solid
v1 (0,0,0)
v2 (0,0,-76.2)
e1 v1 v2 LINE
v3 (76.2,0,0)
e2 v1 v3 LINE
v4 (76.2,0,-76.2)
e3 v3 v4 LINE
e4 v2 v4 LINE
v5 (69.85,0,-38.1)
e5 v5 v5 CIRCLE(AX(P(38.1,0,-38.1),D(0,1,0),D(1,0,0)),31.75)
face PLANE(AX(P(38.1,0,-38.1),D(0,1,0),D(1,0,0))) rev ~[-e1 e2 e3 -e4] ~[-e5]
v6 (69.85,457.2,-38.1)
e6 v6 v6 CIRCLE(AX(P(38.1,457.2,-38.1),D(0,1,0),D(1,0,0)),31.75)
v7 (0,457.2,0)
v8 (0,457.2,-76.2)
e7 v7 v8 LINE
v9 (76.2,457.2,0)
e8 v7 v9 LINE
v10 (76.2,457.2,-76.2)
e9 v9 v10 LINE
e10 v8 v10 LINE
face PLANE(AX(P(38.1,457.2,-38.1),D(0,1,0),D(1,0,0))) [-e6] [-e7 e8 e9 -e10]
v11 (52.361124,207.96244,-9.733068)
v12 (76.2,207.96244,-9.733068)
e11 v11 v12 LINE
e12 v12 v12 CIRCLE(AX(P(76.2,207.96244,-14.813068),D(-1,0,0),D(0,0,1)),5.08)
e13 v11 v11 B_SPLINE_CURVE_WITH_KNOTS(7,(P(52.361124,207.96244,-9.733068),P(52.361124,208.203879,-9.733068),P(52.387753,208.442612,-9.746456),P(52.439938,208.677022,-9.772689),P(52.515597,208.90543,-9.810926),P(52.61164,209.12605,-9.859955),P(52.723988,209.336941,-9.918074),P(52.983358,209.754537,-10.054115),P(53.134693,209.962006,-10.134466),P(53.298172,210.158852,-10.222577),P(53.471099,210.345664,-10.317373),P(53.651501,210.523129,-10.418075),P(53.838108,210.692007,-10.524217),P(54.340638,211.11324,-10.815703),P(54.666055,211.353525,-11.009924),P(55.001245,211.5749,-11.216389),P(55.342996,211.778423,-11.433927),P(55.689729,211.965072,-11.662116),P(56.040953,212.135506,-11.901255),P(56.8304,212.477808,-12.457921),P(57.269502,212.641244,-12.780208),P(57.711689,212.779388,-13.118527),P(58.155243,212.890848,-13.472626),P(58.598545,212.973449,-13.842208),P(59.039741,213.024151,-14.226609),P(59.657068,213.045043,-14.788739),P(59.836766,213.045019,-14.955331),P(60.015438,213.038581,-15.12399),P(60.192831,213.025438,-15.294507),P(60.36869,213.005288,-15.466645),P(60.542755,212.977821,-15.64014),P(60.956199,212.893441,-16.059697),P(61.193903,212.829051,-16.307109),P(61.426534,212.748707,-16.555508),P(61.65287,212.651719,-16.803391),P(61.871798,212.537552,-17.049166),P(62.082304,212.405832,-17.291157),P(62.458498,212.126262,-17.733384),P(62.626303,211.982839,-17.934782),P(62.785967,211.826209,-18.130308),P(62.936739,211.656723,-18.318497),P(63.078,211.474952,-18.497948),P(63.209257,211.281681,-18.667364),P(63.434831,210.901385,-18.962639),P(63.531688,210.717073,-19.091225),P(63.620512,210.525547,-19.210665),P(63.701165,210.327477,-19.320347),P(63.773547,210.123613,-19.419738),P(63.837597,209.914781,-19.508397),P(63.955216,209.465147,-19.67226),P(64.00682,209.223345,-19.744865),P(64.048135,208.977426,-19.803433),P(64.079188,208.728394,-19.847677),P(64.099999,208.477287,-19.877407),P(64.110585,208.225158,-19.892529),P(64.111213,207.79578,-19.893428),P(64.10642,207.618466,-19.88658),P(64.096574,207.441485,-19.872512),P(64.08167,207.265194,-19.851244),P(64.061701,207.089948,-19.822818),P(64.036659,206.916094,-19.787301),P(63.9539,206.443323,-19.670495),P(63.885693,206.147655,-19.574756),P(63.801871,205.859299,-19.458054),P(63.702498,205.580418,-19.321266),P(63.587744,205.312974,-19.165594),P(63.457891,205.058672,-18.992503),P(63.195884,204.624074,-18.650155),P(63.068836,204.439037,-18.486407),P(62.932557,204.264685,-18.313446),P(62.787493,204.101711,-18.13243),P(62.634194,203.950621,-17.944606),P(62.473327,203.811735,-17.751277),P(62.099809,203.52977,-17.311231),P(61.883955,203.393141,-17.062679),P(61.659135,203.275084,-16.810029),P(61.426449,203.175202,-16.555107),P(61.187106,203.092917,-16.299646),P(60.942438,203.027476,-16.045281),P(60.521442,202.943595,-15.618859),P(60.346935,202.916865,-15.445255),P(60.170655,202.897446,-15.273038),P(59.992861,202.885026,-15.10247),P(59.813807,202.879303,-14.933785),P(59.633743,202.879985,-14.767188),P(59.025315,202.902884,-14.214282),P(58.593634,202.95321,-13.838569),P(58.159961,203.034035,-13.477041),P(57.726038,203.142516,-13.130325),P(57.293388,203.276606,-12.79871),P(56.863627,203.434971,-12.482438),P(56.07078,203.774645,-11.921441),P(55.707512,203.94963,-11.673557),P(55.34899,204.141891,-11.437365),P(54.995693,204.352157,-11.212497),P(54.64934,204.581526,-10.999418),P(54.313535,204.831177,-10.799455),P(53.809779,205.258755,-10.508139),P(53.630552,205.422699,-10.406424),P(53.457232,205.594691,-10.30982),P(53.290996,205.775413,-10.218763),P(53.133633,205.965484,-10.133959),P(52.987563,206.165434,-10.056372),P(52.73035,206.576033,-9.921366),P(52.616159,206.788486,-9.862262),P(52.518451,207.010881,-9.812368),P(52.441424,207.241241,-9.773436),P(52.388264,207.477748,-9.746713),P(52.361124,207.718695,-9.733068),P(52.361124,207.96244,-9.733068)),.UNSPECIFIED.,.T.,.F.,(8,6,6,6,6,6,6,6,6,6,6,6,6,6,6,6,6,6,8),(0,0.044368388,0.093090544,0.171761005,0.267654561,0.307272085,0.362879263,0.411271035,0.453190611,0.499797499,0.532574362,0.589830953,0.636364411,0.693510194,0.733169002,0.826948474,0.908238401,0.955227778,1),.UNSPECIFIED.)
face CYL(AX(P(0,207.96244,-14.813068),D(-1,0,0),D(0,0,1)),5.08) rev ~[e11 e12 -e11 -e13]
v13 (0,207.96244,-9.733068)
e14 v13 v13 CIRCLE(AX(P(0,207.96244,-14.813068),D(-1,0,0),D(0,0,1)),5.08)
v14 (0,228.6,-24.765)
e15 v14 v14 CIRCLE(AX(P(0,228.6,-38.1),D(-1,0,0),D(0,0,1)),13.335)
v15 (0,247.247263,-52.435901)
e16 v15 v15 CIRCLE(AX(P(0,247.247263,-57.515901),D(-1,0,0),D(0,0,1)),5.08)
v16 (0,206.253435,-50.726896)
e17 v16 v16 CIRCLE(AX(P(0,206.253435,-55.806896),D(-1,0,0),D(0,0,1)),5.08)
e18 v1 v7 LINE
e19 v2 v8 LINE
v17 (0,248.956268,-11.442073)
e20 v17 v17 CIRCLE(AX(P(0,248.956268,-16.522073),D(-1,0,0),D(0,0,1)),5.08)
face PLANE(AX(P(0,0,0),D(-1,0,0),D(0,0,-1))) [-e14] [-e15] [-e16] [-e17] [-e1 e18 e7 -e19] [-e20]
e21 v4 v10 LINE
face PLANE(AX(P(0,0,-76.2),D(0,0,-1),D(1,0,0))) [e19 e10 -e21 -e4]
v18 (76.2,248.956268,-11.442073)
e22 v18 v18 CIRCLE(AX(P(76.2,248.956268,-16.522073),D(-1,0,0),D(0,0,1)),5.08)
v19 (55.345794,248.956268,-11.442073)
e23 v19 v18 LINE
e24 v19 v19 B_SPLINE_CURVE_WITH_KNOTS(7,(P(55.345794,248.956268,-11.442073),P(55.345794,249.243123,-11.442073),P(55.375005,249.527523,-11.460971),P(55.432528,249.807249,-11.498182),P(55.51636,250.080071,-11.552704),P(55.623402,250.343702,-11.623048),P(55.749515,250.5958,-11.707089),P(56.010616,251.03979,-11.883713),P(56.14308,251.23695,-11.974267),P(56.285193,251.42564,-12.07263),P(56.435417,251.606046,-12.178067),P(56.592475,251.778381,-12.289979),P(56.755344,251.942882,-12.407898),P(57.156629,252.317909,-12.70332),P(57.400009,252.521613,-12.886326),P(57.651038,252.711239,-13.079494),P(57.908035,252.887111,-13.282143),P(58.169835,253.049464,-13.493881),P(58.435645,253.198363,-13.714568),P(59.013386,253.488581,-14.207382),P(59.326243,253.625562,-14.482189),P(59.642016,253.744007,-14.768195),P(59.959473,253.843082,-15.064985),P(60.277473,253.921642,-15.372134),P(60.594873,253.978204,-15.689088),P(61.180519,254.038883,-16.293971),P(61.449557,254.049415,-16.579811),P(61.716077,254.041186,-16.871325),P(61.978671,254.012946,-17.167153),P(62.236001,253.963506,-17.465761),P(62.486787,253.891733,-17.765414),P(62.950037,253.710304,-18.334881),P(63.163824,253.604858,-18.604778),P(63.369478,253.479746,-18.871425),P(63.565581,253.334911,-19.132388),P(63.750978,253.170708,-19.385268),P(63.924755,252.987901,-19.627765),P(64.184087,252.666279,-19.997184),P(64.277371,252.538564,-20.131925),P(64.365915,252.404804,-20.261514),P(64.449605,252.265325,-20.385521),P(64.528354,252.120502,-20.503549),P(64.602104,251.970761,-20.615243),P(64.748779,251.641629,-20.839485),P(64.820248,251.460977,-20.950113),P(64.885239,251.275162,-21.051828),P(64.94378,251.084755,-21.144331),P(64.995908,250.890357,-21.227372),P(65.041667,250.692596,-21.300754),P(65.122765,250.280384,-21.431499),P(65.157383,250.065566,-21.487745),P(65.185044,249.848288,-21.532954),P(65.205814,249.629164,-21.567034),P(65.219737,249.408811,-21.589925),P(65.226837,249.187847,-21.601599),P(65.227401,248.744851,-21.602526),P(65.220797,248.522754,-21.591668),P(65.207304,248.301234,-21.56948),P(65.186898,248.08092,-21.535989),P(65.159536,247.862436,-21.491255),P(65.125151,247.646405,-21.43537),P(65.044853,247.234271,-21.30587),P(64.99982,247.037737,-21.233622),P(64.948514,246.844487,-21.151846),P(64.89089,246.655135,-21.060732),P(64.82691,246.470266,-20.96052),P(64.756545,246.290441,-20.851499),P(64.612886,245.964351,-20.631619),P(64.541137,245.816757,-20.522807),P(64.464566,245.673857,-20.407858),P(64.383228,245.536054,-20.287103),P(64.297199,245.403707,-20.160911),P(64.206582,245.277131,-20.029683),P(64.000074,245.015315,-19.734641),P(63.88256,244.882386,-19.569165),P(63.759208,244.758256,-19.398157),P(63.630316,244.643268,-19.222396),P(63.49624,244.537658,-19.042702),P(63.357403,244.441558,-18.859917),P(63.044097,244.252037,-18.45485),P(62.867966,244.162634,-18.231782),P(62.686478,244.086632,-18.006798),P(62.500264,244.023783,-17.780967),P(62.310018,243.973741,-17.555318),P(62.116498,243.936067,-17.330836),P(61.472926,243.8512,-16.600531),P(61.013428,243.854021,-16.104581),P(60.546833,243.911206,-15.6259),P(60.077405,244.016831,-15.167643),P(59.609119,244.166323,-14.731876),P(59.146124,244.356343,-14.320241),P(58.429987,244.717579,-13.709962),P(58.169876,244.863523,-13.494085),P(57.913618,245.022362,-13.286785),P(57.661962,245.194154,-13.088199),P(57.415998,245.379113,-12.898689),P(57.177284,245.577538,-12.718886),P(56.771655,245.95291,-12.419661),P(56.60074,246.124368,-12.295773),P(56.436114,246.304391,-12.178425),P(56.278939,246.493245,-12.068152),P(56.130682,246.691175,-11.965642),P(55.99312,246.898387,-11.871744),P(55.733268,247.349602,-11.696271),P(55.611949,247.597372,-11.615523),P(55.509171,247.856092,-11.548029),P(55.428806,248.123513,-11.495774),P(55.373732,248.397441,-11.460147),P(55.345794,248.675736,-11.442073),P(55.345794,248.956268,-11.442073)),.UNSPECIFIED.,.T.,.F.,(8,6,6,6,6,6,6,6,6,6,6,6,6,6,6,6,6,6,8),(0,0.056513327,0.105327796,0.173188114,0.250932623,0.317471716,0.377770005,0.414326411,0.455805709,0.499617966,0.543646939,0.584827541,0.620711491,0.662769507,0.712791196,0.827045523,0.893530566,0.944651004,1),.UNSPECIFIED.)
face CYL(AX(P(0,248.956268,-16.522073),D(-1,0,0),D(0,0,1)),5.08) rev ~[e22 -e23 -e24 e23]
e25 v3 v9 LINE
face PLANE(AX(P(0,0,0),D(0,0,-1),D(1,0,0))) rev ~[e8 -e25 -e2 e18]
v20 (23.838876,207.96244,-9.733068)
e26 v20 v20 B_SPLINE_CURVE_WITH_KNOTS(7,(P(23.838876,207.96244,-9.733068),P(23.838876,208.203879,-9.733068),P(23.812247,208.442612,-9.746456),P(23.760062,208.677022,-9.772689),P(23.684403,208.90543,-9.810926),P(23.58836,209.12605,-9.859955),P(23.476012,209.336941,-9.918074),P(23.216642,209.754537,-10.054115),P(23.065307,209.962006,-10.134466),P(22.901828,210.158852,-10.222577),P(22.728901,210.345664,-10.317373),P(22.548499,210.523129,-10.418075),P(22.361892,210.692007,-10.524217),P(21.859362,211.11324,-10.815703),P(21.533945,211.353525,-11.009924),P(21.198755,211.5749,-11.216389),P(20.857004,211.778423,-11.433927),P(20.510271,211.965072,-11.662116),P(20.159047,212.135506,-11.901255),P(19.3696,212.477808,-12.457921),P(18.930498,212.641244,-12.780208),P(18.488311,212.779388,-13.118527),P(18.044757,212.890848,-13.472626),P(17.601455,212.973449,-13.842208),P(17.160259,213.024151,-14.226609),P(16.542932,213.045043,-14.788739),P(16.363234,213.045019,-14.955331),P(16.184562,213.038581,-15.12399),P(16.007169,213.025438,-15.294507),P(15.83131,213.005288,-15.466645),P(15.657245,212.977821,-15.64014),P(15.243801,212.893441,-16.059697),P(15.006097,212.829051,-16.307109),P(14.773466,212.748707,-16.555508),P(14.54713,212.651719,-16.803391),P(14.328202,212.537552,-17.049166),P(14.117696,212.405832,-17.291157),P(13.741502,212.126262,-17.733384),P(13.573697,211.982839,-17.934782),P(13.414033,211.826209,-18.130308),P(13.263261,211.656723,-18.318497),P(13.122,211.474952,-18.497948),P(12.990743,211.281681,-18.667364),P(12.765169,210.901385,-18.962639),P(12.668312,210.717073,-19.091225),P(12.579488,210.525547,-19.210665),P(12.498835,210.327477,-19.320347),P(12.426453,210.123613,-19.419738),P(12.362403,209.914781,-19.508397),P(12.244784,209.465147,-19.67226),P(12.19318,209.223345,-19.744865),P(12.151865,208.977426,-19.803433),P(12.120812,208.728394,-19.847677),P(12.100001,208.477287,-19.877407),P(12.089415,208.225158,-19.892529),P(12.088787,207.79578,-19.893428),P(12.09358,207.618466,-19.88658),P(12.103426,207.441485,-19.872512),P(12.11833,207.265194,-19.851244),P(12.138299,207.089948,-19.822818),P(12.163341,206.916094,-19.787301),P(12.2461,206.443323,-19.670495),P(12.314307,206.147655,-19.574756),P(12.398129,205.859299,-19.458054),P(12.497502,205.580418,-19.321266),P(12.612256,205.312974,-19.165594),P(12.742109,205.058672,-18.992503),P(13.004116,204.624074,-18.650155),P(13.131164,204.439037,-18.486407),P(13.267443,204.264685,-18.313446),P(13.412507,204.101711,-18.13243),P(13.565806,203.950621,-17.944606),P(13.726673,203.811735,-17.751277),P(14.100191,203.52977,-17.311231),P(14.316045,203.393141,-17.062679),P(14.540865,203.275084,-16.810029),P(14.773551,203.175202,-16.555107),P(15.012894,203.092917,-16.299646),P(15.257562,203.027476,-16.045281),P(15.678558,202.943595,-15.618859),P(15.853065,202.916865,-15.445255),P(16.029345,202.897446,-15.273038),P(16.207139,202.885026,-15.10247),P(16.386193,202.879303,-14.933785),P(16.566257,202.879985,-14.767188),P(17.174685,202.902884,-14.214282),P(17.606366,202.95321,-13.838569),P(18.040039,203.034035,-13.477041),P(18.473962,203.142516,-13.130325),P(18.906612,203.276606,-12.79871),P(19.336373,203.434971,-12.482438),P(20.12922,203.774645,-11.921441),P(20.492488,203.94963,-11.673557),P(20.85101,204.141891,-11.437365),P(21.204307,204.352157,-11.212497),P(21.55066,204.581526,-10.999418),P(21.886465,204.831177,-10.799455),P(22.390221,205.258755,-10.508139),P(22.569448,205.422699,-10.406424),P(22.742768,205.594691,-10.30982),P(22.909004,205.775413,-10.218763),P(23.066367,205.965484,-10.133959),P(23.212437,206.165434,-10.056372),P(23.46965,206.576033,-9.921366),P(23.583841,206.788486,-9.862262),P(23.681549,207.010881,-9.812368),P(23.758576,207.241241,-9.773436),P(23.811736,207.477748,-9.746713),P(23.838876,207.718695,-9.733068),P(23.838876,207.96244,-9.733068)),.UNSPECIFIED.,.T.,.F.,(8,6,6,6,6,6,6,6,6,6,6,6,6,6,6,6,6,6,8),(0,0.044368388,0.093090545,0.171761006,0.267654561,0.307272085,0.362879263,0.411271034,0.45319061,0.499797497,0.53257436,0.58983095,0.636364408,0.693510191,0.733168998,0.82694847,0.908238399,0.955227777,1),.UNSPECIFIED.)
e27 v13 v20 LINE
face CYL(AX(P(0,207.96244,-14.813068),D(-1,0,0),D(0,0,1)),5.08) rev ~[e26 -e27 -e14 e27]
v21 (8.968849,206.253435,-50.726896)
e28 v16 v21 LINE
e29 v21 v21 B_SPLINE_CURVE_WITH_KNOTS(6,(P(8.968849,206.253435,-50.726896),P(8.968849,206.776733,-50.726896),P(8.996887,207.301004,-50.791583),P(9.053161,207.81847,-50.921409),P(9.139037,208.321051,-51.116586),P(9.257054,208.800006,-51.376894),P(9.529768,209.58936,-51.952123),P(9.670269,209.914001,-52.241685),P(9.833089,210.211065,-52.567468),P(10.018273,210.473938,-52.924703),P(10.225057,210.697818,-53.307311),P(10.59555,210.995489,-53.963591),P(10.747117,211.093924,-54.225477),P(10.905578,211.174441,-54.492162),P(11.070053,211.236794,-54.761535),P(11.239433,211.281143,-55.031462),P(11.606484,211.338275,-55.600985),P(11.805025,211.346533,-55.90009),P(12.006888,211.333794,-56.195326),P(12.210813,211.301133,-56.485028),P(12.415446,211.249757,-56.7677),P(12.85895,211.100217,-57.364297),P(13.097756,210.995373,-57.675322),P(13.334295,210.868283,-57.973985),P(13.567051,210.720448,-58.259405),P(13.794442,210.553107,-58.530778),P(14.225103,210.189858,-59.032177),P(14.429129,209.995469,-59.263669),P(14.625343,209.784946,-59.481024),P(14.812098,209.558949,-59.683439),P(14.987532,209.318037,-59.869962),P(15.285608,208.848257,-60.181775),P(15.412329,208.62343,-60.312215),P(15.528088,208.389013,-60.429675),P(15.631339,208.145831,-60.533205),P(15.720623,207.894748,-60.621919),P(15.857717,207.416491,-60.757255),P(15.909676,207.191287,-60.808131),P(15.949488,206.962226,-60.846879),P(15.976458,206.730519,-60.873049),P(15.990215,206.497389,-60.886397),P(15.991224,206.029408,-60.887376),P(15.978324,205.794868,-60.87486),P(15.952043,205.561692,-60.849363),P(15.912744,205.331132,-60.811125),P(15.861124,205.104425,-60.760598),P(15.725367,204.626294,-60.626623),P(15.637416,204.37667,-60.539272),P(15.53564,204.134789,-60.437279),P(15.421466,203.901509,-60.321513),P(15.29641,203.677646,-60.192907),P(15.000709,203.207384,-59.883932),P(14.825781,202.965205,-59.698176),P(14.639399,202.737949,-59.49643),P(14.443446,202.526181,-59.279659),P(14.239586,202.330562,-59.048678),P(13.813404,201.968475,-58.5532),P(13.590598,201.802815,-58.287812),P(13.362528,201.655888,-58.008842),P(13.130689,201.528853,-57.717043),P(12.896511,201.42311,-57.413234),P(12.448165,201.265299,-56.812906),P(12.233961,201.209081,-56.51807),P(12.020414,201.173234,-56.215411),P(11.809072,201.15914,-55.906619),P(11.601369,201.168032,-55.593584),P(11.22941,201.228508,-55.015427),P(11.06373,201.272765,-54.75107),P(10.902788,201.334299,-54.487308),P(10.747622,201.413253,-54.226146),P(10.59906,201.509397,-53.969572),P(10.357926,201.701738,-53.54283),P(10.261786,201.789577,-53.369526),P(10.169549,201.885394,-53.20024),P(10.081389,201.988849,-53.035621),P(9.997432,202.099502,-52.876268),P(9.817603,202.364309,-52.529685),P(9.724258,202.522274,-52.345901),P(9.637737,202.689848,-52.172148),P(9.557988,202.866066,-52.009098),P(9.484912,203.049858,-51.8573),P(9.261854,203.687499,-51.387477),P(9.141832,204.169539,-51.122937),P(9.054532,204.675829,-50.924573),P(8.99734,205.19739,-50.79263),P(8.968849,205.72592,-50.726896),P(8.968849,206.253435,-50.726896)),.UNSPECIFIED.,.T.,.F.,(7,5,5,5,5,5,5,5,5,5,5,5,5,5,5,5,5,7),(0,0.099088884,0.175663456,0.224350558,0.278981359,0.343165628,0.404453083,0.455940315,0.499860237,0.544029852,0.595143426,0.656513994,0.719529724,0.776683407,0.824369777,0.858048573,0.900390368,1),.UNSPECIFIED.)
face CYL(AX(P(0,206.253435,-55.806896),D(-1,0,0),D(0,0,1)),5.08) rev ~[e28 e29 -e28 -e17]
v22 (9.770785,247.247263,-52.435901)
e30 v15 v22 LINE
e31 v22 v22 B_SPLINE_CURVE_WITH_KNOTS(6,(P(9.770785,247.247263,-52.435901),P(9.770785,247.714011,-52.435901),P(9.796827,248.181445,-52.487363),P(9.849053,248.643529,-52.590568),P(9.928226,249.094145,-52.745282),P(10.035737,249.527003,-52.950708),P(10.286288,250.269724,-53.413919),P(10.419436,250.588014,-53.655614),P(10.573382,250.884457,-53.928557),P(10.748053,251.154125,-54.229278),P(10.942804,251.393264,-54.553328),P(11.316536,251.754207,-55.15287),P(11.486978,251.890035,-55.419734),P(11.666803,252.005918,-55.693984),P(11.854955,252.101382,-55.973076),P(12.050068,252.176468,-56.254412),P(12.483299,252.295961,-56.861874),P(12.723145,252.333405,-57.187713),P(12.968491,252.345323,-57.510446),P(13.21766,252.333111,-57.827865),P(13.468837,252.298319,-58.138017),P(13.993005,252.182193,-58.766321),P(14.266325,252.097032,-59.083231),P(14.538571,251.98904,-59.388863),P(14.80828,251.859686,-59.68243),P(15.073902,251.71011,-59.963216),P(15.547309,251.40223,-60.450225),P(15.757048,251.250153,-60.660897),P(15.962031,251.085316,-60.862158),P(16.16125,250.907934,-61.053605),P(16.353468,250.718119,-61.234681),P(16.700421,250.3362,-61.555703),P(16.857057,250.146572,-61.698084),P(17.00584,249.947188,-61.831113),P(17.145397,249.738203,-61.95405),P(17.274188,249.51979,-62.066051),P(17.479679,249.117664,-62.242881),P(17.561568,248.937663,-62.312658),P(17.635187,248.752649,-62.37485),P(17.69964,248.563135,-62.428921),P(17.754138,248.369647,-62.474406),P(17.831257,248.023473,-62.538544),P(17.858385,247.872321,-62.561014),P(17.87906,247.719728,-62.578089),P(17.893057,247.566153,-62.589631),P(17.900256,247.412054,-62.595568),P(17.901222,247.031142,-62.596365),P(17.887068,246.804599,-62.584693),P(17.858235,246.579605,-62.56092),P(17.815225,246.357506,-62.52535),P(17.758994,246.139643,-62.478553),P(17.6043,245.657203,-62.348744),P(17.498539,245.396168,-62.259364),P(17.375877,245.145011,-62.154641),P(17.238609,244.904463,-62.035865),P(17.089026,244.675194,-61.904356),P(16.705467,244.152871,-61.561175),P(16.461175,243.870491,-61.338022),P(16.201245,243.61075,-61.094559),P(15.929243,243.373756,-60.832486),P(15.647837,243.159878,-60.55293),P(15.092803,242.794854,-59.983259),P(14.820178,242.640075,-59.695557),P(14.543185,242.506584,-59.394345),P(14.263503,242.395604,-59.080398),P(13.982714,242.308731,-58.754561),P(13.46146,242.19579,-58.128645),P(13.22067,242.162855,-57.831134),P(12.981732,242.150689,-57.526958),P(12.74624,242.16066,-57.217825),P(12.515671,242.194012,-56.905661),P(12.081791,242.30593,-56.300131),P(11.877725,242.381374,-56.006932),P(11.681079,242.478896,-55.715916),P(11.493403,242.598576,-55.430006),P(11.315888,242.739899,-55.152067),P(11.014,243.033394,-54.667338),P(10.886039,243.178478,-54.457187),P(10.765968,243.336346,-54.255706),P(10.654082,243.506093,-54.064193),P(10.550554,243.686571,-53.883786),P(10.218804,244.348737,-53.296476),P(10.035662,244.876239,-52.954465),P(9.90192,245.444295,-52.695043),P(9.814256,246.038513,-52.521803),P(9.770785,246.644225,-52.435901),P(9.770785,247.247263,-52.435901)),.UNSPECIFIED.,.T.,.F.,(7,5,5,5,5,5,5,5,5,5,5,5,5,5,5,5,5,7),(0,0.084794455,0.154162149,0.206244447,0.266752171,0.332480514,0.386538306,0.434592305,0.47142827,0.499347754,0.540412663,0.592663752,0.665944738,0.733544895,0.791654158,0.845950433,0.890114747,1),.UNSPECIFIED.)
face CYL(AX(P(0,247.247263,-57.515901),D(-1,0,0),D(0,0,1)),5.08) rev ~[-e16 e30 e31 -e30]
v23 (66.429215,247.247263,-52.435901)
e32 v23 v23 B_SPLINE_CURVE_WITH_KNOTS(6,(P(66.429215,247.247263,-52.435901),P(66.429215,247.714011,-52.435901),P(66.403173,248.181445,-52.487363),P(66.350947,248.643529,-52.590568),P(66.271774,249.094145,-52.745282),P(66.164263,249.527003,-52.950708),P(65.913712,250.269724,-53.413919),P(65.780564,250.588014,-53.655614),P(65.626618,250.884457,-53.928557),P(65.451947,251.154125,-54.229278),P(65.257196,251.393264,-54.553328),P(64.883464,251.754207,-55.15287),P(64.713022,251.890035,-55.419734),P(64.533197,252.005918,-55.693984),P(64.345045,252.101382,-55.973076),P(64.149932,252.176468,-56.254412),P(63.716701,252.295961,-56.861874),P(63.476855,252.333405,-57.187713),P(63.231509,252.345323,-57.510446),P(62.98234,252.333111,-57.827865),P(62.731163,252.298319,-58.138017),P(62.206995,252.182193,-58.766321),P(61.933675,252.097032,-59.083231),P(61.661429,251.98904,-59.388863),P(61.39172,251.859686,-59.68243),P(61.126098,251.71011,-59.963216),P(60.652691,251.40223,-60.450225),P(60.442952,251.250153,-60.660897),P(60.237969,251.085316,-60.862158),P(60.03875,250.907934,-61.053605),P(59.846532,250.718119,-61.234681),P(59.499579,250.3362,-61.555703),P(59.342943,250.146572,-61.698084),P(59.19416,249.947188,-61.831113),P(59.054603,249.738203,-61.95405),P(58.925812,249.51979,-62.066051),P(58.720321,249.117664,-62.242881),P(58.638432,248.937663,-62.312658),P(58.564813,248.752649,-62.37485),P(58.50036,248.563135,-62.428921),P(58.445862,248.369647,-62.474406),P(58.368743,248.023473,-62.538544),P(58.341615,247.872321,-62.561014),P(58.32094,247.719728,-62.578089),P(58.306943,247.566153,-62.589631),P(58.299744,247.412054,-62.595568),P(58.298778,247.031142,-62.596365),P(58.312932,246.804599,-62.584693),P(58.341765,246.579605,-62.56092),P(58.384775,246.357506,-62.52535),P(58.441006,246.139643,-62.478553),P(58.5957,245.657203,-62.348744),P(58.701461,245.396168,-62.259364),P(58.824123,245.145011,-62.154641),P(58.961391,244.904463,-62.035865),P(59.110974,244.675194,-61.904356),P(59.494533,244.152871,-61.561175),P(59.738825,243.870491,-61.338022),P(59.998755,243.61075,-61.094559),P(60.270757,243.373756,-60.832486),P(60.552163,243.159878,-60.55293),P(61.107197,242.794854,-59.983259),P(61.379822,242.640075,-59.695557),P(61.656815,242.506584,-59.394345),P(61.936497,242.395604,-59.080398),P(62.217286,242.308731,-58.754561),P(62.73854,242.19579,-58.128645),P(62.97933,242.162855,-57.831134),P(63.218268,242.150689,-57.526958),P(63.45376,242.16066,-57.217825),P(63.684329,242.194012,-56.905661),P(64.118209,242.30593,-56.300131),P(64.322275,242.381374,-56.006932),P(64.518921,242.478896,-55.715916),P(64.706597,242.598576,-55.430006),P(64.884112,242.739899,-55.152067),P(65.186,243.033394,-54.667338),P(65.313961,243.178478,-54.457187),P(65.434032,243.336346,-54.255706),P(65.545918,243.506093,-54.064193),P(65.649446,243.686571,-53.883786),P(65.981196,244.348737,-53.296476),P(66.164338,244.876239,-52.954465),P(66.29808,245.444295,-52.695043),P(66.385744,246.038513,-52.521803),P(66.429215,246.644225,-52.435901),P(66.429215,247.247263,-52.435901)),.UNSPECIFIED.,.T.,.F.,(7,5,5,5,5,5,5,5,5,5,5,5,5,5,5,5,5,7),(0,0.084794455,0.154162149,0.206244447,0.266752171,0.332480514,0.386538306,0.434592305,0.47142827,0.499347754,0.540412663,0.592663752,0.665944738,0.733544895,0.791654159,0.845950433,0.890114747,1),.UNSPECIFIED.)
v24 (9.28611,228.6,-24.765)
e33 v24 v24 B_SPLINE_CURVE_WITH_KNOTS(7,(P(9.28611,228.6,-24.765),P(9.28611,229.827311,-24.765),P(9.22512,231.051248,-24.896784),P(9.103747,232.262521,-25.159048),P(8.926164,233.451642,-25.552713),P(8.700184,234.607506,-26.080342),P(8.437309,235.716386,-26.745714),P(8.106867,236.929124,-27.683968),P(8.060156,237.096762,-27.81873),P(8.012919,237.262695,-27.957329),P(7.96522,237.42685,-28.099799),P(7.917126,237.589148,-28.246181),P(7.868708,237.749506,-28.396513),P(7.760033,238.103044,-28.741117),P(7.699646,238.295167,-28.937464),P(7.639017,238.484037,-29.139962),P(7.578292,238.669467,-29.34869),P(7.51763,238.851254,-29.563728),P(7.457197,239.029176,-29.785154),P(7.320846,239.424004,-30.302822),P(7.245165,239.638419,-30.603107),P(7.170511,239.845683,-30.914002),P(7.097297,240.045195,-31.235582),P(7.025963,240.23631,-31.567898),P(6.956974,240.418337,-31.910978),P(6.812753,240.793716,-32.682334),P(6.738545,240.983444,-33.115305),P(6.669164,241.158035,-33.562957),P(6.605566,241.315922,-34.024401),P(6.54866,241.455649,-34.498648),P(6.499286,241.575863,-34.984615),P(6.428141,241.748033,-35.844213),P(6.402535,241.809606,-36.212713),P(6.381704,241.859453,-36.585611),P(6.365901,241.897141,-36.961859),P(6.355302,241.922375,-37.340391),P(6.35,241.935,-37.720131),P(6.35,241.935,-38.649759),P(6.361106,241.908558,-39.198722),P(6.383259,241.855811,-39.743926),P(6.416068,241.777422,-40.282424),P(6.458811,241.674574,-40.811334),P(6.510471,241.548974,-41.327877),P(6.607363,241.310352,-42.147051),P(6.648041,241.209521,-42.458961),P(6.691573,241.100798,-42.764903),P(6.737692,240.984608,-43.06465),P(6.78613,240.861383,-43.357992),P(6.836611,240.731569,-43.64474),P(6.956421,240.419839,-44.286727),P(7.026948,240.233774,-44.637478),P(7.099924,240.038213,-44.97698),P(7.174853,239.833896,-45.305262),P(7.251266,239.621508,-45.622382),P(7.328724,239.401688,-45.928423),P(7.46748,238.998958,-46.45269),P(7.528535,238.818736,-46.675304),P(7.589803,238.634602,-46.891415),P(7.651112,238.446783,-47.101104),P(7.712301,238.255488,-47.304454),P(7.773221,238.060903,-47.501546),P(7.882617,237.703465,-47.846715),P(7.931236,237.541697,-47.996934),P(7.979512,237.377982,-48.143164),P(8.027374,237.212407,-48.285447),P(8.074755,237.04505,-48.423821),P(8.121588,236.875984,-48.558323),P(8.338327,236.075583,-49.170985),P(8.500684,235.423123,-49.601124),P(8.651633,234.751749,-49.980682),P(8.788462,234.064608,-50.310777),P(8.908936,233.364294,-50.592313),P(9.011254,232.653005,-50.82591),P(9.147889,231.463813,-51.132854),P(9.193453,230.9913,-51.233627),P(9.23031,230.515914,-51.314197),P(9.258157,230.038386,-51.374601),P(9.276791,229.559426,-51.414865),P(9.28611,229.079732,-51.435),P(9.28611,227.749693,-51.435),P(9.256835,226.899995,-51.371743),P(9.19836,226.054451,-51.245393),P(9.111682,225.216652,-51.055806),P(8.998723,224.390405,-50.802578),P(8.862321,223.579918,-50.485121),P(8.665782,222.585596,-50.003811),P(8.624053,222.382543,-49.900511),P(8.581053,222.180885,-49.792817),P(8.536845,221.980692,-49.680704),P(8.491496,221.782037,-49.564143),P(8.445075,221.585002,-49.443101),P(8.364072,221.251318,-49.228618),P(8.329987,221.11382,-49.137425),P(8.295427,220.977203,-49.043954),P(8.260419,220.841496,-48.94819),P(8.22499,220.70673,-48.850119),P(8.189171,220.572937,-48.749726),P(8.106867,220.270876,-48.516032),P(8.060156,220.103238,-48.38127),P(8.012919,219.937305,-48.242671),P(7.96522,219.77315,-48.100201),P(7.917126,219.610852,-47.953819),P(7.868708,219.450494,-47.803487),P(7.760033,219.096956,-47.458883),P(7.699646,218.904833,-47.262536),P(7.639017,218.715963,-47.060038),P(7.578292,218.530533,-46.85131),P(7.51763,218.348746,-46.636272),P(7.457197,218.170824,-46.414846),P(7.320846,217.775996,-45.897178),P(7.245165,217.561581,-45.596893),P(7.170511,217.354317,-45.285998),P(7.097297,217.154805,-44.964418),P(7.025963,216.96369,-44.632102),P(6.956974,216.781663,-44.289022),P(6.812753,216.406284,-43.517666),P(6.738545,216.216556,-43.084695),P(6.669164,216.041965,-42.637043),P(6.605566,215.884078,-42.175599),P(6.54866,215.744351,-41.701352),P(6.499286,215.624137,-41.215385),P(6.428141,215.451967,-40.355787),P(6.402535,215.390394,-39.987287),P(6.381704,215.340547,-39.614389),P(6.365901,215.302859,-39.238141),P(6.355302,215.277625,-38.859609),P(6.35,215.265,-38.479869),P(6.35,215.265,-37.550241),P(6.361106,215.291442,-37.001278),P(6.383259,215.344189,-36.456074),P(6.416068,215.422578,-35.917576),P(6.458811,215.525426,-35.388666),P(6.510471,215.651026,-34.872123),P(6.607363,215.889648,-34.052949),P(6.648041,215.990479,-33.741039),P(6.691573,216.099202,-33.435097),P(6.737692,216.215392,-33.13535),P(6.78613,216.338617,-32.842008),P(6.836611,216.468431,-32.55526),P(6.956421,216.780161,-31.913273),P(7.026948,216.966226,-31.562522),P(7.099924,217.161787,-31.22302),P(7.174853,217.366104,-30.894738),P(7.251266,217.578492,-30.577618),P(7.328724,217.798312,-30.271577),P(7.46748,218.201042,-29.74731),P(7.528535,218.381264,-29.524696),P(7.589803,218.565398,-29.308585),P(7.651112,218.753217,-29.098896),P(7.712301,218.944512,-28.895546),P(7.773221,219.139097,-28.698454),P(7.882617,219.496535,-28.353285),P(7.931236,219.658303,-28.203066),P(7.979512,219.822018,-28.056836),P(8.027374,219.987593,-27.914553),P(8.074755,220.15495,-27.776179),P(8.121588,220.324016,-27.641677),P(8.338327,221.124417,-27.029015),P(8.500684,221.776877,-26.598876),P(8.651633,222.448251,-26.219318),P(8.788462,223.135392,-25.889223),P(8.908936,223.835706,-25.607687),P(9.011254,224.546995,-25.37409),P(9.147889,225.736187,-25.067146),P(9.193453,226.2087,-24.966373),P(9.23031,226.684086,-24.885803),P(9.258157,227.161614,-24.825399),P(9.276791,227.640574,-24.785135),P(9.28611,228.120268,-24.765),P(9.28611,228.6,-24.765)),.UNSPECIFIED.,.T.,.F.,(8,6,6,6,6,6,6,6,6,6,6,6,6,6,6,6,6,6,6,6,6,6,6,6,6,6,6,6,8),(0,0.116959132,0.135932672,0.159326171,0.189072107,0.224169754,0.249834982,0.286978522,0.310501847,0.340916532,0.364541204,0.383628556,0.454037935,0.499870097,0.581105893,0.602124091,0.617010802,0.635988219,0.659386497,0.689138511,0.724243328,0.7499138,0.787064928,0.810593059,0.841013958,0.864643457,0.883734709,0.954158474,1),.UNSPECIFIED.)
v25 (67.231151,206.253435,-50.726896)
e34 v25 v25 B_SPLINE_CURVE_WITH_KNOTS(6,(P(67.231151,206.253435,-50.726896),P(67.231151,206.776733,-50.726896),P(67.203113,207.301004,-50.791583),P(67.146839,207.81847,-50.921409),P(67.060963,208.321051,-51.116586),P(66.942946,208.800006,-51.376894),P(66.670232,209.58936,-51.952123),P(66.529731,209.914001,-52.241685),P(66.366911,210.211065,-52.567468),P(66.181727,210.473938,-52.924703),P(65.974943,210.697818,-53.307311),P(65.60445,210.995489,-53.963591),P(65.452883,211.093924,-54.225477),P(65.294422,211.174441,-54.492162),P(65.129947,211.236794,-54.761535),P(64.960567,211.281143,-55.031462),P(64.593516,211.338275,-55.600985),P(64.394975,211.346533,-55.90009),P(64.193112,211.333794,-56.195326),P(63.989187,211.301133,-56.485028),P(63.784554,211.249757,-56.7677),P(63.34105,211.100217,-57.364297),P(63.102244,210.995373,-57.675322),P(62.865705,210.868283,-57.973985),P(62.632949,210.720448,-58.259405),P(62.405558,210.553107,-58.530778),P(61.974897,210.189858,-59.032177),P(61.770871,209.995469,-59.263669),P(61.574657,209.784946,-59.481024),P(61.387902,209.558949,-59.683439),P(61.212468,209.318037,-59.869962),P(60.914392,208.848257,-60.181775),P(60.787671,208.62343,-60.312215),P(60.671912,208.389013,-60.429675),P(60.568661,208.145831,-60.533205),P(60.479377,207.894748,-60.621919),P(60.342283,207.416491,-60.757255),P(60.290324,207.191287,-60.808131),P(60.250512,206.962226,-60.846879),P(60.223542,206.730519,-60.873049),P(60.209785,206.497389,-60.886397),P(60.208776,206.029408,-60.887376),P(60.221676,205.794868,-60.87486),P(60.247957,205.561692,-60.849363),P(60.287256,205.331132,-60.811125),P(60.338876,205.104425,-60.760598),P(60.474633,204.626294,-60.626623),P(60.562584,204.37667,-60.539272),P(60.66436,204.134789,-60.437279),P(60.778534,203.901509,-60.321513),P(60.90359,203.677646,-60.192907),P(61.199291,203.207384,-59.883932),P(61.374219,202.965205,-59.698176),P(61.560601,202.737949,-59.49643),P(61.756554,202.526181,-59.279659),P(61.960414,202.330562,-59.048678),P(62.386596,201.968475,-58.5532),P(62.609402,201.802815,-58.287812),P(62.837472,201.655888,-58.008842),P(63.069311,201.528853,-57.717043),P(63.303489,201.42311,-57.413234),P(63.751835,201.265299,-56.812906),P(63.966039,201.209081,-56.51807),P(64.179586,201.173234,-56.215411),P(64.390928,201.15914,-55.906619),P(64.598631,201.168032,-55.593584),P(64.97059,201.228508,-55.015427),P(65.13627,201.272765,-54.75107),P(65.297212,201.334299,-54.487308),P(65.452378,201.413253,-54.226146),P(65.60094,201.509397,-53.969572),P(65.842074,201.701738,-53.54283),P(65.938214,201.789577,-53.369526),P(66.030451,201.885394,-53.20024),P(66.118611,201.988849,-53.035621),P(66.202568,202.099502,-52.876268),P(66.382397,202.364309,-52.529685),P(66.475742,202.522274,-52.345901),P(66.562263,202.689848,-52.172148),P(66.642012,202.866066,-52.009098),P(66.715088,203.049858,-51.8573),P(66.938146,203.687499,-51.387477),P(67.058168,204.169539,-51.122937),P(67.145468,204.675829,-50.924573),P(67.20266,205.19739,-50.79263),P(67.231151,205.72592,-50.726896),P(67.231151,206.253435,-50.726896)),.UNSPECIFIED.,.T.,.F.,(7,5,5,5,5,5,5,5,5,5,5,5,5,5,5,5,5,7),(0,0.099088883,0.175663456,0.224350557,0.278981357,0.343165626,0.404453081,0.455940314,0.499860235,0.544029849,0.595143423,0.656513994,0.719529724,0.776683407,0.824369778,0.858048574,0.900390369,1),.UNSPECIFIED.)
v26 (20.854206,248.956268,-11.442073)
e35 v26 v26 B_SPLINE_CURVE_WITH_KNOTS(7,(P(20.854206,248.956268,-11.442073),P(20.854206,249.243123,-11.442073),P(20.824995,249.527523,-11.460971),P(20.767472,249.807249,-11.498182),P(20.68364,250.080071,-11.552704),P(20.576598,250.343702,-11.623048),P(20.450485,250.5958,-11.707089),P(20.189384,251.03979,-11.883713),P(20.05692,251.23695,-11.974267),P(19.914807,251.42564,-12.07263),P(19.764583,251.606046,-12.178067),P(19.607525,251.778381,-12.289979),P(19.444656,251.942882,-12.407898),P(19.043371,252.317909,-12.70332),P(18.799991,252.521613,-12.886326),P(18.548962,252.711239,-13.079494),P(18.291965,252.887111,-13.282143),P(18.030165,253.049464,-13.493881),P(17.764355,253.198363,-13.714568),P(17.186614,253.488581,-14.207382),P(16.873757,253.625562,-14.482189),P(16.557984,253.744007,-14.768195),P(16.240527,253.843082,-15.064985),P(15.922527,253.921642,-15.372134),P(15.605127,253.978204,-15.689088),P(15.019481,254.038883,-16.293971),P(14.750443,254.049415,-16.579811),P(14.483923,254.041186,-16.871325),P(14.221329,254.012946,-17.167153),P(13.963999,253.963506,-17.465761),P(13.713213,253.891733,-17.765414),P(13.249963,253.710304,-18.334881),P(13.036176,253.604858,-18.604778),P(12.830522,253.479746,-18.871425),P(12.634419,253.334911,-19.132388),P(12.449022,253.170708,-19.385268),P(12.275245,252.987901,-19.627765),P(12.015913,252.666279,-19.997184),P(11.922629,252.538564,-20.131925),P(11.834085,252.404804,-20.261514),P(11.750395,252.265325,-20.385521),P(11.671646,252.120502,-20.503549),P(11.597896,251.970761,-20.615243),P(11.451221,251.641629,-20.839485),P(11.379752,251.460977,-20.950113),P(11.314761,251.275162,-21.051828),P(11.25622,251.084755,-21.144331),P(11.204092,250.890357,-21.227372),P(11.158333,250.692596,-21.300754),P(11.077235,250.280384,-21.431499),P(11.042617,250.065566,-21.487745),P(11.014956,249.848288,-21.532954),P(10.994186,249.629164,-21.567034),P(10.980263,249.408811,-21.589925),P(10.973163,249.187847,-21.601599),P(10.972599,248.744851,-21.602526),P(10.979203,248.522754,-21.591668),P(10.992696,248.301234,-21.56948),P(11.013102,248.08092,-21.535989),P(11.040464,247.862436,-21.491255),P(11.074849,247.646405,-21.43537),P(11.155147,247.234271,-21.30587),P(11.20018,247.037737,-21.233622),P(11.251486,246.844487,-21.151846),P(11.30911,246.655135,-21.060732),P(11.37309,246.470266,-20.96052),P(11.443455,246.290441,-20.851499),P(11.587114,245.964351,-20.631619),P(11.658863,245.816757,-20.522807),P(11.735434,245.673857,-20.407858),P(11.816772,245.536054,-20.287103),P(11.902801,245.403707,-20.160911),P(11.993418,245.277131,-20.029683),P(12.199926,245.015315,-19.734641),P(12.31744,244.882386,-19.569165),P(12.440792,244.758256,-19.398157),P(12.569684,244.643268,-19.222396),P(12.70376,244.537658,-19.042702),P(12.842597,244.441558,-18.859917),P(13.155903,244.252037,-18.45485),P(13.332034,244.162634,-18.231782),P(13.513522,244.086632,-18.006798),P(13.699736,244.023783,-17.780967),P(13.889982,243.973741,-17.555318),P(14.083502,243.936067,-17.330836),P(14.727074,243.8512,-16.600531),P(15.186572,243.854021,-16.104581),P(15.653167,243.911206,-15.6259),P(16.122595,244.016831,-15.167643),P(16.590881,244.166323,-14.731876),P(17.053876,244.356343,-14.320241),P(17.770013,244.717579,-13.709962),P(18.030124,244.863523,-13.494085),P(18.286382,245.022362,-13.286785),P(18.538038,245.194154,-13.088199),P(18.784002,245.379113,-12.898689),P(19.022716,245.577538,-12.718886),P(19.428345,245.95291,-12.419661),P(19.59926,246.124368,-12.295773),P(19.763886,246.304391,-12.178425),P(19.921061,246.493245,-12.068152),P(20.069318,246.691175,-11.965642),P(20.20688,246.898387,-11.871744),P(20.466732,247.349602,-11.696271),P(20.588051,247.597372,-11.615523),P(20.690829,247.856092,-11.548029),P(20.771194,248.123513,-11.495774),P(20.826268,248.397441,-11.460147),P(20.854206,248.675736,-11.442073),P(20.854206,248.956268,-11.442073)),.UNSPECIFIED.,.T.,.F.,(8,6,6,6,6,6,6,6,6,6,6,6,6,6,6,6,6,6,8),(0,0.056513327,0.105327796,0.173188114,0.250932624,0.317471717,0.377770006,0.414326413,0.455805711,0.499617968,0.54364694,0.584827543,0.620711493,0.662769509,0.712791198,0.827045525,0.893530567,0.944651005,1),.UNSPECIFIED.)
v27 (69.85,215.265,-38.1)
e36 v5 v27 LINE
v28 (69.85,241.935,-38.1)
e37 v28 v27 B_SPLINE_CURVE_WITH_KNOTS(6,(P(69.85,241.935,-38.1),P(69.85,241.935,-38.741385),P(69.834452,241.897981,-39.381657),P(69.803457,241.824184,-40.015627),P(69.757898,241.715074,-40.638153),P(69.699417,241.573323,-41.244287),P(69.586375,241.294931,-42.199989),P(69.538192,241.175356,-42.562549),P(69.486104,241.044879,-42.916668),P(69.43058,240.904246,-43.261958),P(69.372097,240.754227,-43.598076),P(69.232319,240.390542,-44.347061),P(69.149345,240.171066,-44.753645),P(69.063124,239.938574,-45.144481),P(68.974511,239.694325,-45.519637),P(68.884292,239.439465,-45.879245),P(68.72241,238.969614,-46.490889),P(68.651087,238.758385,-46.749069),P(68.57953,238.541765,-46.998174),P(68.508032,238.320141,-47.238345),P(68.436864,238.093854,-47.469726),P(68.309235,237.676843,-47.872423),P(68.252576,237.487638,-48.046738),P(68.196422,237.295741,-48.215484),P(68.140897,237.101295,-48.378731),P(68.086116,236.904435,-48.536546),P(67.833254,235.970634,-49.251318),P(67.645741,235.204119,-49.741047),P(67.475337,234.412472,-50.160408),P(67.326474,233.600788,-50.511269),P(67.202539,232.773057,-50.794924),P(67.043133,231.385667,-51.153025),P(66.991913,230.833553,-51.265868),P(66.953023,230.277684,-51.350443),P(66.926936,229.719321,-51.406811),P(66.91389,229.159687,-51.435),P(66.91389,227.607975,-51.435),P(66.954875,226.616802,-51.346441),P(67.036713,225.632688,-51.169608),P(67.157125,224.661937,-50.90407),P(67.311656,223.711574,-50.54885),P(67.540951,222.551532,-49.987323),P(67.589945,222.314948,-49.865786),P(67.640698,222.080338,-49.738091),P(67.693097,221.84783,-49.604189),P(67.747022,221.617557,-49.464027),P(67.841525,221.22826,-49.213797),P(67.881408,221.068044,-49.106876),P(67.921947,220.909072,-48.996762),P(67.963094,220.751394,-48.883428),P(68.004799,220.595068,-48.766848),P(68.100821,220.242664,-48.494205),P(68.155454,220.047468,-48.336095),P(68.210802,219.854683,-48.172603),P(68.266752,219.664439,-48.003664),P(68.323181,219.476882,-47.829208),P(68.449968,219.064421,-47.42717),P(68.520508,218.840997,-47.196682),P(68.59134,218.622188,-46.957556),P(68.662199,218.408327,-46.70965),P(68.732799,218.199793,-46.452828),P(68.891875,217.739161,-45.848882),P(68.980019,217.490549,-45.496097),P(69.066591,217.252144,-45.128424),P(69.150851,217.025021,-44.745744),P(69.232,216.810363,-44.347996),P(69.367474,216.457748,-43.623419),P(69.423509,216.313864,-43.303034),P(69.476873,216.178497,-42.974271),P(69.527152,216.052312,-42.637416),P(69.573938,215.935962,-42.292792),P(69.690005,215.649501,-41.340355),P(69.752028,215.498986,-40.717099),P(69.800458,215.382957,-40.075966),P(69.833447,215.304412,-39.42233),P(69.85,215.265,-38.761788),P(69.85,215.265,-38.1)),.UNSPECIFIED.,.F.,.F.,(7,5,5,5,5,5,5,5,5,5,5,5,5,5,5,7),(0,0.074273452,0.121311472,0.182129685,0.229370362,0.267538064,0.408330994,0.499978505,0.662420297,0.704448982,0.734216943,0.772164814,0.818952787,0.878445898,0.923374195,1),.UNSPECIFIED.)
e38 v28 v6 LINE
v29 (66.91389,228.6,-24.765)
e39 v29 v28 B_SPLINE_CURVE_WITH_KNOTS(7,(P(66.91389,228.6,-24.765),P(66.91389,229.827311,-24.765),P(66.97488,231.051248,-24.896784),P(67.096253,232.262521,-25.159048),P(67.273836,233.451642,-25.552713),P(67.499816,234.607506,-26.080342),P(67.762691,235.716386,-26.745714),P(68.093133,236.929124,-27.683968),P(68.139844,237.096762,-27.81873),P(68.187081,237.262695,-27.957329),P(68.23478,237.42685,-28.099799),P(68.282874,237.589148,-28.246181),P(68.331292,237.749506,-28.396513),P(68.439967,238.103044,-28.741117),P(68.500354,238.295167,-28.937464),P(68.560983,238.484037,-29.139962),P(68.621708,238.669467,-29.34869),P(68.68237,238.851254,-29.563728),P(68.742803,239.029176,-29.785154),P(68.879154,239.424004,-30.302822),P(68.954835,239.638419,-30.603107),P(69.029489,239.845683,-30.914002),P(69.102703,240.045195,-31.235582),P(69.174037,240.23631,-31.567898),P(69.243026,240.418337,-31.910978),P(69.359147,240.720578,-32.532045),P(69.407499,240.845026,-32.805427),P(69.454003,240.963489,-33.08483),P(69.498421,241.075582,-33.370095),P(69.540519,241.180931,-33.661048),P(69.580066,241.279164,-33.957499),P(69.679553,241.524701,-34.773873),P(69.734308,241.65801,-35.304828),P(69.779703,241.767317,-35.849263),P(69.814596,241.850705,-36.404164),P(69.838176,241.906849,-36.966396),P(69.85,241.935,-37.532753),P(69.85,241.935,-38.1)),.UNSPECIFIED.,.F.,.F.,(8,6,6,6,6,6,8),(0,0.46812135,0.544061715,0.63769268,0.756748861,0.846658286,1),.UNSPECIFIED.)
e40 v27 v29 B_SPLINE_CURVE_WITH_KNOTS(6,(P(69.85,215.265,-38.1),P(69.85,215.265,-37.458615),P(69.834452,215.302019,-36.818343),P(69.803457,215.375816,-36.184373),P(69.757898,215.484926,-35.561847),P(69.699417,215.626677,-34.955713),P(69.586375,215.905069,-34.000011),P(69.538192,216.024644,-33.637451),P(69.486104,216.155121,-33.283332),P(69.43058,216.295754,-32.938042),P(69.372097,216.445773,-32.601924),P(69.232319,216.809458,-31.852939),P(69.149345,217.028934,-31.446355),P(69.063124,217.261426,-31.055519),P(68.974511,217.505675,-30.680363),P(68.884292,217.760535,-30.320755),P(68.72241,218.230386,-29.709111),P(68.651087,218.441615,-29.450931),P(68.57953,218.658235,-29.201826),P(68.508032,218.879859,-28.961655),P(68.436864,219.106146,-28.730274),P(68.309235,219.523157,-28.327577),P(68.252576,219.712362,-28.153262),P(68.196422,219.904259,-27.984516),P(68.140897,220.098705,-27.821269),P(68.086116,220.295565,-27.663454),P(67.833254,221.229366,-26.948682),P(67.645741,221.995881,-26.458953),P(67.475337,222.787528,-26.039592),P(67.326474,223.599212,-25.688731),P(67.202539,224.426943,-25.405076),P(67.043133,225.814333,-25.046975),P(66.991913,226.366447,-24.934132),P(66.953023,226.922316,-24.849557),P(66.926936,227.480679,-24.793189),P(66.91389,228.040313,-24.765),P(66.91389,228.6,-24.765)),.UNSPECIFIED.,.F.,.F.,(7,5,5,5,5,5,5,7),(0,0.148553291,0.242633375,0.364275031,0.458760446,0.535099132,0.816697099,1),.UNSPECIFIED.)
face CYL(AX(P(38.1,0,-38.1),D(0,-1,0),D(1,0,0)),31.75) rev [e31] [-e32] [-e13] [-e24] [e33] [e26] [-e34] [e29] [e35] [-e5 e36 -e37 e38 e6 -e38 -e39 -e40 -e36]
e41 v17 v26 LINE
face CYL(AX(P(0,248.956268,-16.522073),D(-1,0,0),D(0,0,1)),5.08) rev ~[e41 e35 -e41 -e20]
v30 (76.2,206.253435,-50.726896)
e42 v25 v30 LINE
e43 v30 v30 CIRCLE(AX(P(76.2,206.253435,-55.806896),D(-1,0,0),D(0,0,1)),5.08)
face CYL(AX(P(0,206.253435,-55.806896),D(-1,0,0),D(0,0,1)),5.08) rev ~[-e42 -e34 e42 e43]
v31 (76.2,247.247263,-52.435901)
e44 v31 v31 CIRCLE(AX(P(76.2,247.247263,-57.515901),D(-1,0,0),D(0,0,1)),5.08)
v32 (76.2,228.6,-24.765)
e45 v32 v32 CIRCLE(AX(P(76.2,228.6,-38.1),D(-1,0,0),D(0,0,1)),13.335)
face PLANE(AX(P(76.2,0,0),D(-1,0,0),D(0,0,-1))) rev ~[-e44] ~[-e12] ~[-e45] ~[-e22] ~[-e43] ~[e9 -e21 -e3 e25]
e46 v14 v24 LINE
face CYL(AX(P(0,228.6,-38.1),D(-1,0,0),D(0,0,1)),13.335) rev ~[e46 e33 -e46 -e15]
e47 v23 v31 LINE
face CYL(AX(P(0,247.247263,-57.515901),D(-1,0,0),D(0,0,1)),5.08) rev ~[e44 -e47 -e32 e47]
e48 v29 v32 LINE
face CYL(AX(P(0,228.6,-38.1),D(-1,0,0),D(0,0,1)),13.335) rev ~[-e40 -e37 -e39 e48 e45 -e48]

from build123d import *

# Parameters (mm, degrees)
SKETCH1_W           = 76.2
SKETCH1_H           = 76.2
SKETCH1_R           = 31.75
BOSS_EXTRUDE1_DEPTH = 457.2
SKETCH2_R           = 13.335
CUT_EXTRUDE1_DEPTH  = 914.4
SKETCH3_R           = 5.08
CUT_EXTRUDE2_DEPTH  = 914.4


with BuildPart() as part:
    # Sketch1 → Boss-Extrude1 (new body)
    with BuildSketch(Plane(origin=(0, 0, 0), x_dir=(1, 0, 0), z_dir=(0, 1, 0))):
        with Locations((38.1, 38.1)):
            Rectangle(SKETCH1_W, SKETCH1_H)
        with Locations((38.1, 38.1)):
            Circle(SKETCH1_R, mode=Mode.SUBTRACT)
    extrude(amount=BOSS_EXTRUDE1_DEPTH)

    # Sketch2 → Cut-Extrude1 (cut)
    with BuildSketch(Plane.ZY):
        with Locations((-38.1, 228.6)):
            Circle(SKETCH2_R)
    extrude(amount=-CUT_EXTRUDE1_DEPTH, mode=Mode.SUBTRACT)

    # Sketch3 → Cut-Extrude2 (cut)
    with BuildSketch(Plane.ZY):
        with Locations((-57.515901481, 247.247263344)):
            Circle(SKETCH3_R)
        with Locations((-16.522072817, 248.95626833)):
            Circle(SKETCH3_R)
        with Locations((-14.81306783, 207.962439666)):
            Circle(SKETCH3_R)
        with Locations((-55.806896495, 206.253434679)):
            Circle(SKETCH3_R)
    extrude(amount=-CUT_EXTRUDE2_DEPTH, mode=Mode.SUBTRACT)


solid = part.part
